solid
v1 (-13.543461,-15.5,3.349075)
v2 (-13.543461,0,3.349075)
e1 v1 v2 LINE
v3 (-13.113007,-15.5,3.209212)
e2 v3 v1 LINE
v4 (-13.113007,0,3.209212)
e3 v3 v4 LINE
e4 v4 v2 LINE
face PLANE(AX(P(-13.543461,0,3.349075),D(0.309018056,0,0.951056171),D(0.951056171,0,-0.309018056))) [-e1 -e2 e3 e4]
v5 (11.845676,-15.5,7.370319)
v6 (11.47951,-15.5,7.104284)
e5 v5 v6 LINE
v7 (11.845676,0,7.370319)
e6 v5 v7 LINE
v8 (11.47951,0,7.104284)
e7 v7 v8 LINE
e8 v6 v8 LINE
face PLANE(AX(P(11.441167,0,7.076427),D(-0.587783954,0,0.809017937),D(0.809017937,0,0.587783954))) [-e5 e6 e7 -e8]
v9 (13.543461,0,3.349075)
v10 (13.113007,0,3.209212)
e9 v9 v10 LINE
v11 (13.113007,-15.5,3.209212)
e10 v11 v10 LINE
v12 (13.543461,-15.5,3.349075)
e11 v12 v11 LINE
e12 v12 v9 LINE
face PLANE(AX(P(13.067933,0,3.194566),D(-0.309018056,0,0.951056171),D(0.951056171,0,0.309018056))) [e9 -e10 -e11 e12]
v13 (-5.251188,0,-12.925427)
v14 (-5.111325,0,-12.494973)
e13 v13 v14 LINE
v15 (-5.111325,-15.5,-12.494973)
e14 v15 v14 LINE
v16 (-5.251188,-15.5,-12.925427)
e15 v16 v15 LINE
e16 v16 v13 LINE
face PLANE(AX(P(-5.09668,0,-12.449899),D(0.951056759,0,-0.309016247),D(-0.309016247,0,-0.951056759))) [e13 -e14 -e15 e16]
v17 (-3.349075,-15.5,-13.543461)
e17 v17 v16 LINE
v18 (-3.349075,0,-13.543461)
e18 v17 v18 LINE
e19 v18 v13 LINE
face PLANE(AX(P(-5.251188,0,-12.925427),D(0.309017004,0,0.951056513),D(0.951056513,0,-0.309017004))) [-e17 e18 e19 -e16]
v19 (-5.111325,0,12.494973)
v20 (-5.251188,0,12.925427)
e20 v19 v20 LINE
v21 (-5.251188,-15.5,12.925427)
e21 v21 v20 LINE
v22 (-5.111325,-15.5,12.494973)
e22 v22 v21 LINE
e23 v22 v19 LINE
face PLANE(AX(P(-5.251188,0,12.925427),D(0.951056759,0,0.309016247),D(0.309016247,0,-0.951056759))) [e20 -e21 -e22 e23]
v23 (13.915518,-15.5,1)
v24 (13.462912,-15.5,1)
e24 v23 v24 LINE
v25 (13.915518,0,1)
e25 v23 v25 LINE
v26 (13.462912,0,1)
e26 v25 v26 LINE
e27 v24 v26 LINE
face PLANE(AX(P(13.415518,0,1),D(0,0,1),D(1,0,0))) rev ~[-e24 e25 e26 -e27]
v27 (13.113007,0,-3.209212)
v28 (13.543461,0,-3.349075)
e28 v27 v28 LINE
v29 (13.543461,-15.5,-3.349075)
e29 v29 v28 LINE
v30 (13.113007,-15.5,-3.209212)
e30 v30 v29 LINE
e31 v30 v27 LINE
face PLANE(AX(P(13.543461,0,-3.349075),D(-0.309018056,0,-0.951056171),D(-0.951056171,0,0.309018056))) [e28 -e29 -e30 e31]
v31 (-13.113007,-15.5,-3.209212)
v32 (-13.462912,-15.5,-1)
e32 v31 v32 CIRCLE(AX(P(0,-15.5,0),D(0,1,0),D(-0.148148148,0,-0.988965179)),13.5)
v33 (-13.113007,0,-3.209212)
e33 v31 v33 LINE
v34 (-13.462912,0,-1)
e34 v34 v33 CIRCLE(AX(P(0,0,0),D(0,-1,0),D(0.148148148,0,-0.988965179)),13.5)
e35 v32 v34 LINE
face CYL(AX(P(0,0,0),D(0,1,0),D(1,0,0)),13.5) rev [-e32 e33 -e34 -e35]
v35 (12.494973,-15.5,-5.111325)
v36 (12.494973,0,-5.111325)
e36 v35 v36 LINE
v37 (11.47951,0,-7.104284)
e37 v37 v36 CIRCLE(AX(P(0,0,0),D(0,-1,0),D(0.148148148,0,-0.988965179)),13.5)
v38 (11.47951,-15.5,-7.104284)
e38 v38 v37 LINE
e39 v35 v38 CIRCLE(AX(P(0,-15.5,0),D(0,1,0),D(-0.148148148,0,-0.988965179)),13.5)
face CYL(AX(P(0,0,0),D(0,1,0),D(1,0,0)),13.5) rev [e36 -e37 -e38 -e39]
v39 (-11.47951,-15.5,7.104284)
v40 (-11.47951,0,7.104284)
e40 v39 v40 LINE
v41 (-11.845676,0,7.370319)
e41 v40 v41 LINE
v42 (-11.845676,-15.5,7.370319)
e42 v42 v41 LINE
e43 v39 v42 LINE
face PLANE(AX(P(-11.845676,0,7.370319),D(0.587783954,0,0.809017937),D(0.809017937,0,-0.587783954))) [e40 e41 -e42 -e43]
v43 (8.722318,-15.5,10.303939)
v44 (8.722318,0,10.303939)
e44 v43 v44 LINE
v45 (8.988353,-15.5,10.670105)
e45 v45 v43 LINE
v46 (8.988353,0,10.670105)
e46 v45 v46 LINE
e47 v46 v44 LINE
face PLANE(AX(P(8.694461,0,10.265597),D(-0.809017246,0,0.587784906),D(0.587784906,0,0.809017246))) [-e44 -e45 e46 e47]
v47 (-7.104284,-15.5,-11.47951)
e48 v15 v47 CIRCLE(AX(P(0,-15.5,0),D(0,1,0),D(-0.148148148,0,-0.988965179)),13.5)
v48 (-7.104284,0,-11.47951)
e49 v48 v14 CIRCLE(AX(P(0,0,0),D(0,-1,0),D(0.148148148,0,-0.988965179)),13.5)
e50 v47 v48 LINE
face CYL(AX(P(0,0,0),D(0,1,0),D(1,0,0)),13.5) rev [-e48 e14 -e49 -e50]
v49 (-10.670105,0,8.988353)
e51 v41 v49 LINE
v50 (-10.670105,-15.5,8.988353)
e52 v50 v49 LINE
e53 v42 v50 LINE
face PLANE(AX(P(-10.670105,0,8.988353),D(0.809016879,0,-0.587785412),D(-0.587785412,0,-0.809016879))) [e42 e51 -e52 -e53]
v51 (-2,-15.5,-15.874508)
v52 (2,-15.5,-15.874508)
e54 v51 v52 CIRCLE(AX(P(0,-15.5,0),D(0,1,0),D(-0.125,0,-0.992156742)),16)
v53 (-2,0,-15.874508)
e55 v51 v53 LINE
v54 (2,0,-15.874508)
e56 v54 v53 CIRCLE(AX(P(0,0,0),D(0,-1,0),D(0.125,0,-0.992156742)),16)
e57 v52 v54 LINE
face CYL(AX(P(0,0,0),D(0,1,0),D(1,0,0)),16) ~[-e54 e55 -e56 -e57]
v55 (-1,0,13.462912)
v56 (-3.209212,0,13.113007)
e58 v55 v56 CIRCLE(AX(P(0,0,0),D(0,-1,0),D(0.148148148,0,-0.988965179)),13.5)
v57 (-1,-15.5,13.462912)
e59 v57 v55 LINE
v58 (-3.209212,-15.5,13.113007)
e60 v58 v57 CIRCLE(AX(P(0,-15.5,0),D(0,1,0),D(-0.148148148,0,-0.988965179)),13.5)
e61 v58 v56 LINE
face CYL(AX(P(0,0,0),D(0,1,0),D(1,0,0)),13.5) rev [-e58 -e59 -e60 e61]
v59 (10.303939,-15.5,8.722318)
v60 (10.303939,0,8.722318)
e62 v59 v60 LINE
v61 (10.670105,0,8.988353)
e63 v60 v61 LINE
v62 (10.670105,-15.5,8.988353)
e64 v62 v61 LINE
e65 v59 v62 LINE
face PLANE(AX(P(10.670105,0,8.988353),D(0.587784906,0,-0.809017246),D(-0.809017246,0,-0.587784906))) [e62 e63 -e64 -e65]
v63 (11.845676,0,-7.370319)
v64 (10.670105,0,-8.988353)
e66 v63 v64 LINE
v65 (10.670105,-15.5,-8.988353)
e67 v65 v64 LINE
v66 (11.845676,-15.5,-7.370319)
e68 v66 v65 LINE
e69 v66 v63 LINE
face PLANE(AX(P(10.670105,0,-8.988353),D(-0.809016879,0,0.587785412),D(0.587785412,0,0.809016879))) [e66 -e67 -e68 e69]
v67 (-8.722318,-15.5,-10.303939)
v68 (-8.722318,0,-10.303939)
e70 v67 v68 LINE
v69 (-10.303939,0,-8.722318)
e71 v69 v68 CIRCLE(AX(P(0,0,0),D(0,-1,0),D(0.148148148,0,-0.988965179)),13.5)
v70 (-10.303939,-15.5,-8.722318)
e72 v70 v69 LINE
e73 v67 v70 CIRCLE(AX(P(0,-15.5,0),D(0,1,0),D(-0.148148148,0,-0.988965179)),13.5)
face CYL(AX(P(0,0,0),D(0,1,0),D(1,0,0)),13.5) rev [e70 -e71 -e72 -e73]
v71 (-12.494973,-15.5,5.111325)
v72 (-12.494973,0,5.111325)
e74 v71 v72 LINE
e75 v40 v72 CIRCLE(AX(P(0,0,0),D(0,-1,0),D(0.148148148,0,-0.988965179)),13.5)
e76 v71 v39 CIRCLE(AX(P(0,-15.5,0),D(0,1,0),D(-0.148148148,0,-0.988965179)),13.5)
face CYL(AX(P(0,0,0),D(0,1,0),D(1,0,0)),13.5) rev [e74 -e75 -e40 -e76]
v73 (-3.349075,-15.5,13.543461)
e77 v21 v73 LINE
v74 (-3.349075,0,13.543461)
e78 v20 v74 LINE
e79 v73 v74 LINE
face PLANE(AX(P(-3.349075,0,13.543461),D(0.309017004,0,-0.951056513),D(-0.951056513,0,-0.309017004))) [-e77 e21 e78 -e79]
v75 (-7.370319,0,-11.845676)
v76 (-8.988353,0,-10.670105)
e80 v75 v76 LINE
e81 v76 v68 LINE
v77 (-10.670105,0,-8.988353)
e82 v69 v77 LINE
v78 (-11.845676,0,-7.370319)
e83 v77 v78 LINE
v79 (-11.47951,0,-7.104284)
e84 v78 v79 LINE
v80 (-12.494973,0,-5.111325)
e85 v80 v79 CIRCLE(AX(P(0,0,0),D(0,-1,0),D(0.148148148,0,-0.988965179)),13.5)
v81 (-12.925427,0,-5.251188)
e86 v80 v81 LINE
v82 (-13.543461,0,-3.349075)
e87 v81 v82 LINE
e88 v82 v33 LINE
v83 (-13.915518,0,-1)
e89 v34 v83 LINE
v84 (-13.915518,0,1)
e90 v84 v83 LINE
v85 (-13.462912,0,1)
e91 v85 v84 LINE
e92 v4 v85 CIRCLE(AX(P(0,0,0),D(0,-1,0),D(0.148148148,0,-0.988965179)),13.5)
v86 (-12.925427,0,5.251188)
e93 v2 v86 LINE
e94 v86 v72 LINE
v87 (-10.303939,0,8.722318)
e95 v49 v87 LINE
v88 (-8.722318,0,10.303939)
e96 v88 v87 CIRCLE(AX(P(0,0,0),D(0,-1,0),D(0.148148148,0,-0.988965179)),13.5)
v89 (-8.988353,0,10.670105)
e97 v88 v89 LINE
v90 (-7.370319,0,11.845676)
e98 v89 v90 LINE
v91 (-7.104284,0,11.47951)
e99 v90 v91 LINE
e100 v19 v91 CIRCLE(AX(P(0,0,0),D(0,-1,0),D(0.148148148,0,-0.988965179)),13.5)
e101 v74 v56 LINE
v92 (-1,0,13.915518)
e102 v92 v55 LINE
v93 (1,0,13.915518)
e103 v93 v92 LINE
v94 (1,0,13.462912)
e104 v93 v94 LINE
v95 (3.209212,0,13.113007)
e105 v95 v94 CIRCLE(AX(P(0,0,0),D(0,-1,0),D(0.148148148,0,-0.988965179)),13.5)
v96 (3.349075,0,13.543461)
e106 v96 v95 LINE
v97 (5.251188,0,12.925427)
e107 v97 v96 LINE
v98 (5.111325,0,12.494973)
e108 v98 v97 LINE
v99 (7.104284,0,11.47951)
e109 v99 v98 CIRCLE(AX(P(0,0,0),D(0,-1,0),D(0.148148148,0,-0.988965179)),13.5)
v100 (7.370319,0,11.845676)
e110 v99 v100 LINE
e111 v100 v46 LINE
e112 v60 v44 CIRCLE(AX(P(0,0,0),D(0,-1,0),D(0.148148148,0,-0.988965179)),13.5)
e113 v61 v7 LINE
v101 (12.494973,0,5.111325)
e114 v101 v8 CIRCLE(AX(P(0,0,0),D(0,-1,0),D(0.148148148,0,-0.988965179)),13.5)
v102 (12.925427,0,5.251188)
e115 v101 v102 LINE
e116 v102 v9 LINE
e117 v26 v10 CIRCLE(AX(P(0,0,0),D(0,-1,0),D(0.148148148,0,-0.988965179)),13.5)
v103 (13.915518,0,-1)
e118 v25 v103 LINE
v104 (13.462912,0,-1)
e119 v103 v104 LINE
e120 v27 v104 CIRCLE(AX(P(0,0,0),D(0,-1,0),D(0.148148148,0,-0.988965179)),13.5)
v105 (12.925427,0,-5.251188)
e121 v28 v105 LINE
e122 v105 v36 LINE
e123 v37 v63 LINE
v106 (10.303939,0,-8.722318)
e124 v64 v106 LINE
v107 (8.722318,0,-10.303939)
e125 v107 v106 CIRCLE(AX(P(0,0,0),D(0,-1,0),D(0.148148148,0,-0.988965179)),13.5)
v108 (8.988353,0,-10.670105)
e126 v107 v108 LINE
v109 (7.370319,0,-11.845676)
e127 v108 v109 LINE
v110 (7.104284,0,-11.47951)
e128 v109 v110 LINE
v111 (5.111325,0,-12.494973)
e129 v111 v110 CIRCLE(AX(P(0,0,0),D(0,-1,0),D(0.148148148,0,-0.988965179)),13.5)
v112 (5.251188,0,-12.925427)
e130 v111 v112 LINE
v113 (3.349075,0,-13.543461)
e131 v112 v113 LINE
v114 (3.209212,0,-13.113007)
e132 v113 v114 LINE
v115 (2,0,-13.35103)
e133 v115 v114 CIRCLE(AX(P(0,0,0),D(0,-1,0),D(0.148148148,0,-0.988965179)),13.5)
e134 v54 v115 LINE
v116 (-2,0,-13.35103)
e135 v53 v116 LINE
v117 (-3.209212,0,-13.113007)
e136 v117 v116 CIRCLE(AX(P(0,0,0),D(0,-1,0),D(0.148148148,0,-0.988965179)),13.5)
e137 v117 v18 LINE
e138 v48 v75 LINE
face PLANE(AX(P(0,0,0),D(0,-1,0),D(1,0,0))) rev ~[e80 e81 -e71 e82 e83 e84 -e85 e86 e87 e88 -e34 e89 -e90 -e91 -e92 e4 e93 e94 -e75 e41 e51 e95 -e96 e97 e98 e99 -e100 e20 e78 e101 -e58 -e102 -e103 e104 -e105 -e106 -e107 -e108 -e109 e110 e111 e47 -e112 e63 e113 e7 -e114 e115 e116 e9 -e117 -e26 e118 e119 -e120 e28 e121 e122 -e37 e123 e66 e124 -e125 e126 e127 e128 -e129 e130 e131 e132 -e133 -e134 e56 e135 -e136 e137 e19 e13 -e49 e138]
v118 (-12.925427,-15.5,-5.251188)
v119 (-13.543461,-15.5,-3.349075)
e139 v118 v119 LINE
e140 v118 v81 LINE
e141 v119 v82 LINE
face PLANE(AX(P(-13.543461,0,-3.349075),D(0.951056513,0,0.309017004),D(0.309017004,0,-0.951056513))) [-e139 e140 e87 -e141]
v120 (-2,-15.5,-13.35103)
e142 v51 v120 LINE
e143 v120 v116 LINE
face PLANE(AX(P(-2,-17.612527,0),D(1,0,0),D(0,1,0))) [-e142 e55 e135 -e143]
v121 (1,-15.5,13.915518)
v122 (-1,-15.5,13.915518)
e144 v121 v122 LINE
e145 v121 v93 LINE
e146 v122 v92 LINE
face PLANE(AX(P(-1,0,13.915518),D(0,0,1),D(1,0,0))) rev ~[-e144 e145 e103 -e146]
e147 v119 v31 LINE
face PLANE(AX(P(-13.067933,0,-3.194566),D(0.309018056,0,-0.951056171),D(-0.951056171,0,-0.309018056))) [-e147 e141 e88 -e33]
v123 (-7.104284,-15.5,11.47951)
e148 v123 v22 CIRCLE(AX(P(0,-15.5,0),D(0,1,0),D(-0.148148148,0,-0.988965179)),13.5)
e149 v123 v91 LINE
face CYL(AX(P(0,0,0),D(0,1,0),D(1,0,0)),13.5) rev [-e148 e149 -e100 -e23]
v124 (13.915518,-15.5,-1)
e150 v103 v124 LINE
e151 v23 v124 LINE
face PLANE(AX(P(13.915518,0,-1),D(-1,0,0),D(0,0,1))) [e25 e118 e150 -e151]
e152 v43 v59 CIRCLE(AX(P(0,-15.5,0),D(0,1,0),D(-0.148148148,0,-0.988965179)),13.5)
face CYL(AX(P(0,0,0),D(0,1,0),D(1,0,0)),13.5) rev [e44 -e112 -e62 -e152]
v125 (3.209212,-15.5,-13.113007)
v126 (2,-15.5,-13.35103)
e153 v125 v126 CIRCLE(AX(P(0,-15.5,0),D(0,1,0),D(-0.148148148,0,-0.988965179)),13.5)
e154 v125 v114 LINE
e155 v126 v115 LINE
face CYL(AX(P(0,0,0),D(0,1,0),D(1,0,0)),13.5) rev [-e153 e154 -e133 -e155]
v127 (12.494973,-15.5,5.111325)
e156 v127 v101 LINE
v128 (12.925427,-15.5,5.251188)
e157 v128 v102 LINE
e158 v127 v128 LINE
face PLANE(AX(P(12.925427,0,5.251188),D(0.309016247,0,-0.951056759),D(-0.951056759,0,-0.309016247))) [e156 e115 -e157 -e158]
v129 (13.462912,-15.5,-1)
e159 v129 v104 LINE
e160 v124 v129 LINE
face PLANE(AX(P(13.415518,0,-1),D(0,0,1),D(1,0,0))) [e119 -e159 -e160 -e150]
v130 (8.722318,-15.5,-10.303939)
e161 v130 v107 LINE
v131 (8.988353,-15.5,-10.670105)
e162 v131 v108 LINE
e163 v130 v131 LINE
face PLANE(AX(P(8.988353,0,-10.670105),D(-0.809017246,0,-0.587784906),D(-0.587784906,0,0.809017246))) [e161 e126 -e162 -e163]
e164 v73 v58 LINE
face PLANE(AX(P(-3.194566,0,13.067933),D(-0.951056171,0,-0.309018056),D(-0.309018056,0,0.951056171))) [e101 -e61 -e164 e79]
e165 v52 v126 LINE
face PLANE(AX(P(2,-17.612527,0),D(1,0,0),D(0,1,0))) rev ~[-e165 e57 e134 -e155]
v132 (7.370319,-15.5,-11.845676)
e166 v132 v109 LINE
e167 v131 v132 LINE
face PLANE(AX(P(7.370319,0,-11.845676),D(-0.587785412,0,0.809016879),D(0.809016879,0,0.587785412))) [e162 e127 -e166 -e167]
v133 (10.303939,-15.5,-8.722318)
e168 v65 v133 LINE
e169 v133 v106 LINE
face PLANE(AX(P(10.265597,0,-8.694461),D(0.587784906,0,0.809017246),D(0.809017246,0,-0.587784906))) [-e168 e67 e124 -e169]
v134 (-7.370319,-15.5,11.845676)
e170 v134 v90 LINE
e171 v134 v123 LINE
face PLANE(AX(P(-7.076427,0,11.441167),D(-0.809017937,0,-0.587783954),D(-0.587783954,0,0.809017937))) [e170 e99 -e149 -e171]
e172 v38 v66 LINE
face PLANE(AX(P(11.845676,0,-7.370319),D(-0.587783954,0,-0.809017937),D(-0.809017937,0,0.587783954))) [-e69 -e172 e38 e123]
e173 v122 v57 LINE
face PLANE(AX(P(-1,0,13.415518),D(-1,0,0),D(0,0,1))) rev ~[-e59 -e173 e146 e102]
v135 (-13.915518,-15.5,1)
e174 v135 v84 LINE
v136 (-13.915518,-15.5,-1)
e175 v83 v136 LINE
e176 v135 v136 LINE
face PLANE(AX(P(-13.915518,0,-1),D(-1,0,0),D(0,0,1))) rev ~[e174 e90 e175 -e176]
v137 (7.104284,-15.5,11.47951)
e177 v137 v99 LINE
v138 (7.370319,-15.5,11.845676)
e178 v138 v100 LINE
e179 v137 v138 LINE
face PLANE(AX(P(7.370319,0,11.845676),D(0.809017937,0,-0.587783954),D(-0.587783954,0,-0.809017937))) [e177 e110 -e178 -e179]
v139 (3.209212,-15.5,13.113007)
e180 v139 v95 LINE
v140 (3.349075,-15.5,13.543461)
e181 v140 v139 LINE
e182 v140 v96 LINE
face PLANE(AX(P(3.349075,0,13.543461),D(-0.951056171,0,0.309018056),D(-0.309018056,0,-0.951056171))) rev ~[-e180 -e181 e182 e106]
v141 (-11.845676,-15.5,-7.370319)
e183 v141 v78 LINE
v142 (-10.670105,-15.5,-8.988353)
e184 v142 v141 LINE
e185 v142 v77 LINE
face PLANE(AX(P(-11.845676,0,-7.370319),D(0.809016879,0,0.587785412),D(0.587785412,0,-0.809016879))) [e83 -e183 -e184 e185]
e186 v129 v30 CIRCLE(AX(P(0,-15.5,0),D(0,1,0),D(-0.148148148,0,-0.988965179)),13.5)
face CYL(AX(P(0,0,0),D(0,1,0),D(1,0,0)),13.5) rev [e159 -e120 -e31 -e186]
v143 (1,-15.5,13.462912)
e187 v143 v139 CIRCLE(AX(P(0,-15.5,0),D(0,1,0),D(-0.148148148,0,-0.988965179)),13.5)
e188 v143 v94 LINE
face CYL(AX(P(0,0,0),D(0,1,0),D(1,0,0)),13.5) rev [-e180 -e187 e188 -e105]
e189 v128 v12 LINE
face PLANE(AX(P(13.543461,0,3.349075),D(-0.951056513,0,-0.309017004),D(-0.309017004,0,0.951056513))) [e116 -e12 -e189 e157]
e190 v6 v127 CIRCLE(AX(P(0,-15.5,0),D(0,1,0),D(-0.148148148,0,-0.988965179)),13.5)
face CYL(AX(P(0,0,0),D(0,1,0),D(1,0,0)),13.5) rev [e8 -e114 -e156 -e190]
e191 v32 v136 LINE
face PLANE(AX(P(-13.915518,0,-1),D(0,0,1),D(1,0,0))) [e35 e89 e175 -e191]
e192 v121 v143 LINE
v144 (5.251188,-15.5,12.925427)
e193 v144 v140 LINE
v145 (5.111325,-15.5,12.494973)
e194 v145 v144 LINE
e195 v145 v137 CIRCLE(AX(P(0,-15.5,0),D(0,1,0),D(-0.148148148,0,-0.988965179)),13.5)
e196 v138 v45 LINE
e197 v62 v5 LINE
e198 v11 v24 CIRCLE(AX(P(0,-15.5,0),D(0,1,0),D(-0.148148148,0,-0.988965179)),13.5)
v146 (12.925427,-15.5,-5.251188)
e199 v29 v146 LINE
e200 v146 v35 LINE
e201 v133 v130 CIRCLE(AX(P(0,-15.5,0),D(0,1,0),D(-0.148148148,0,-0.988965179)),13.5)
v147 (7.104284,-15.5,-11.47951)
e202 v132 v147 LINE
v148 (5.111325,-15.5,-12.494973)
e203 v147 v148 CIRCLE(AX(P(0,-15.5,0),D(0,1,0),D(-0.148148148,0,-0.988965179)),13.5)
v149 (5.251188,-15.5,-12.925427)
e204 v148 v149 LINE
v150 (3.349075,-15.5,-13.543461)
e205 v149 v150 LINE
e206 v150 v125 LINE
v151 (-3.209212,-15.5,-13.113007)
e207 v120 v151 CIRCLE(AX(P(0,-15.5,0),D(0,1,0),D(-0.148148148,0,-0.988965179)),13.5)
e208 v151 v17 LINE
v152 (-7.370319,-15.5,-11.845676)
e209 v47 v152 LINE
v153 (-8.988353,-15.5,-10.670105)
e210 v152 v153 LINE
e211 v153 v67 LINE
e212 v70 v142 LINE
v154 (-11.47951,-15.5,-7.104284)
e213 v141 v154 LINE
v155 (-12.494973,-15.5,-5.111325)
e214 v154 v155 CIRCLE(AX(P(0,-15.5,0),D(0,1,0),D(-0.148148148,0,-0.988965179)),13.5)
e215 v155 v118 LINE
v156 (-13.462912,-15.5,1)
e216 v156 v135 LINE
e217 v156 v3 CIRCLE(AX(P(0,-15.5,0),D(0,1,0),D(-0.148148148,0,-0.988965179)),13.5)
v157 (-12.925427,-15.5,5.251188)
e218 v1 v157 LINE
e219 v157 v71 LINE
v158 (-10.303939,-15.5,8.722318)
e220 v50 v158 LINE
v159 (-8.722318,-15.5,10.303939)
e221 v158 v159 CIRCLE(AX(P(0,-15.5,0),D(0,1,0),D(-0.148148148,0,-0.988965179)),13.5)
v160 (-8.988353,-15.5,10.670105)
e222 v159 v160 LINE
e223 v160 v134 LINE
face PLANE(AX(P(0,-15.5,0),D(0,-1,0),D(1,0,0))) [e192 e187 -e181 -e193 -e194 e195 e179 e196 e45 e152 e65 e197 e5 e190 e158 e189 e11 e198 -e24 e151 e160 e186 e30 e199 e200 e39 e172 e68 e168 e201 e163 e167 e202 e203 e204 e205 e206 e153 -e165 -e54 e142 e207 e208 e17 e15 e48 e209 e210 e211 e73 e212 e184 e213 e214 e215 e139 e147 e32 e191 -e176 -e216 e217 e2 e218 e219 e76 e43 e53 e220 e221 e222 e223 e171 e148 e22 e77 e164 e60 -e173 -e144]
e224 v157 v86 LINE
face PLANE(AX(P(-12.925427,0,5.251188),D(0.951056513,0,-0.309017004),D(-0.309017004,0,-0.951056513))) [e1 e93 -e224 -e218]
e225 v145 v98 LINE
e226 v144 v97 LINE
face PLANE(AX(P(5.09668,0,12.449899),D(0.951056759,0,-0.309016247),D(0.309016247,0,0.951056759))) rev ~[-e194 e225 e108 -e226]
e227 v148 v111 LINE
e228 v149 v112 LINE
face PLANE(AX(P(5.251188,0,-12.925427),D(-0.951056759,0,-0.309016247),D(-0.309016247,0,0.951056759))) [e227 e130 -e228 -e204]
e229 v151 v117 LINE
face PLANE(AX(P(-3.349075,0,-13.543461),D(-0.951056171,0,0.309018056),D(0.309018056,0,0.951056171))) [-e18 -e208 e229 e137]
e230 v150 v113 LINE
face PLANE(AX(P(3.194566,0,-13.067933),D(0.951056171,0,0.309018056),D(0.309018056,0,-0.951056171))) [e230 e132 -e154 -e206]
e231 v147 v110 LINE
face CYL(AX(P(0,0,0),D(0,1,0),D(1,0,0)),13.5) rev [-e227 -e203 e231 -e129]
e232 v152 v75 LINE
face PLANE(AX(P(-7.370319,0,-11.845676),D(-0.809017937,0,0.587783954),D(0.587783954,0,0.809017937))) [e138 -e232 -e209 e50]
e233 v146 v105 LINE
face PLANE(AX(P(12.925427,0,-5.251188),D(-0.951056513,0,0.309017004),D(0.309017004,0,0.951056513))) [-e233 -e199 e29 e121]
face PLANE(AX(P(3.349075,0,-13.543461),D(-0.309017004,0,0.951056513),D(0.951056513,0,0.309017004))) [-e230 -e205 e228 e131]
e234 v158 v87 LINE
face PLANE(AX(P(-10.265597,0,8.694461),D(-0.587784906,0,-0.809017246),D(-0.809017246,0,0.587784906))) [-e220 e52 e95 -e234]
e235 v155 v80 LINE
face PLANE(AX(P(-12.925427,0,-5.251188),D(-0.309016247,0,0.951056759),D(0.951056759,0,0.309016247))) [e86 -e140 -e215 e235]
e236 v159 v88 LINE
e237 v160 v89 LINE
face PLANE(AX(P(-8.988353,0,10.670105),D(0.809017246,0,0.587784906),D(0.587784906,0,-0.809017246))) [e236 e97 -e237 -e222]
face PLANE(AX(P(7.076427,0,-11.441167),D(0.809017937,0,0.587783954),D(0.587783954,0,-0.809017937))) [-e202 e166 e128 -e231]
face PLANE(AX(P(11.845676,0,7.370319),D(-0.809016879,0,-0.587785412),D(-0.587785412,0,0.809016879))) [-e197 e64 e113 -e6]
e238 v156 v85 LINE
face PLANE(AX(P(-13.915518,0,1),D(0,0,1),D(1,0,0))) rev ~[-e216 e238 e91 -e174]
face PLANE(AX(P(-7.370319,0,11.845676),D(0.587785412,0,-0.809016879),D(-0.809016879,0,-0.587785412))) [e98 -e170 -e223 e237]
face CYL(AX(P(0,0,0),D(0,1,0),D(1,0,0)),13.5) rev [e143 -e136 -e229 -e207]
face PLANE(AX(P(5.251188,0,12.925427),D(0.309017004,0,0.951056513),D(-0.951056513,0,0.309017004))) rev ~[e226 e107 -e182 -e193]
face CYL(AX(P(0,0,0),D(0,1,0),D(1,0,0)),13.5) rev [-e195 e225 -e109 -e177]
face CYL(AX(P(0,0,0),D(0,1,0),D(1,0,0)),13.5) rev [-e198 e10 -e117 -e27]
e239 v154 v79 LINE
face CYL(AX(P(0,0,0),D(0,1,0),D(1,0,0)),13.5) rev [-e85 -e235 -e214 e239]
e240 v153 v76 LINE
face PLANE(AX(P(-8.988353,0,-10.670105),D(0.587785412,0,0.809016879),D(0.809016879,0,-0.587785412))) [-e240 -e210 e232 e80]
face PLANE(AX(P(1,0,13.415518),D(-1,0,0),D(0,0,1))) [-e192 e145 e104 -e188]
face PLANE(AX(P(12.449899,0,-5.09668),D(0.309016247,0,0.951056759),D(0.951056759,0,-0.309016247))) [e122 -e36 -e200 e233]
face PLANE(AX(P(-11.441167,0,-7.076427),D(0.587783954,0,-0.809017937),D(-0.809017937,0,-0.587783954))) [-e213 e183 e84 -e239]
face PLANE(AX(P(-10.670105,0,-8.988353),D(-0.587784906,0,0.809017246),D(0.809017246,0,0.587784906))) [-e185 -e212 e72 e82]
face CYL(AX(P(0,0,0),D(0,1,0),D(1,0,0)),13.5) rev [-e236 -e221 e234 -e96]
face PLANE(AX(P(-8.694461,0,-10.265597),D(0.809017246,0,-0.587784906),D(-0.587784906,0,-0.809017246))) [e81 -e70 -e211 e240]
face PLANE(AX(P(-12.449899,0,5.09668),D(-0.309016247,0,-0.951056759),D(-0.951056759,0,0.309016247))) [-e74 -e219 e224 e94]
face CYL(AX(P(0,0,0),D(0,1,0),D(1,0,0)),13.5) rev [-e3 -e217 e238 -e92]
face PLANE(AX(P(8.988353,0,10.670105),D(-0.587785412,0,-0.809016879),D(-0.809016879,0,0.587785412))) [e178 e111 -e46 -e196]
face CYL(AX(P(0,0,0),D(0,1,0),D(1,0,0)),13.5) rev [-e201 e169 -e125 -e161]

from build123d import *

# Parameters (mm, degrees)
F0_R     = 16
F0_R_2   = 13.5
F1_DEPTH = 15.5
F2_W     = 4
F2_H     = 19.090906
F3_DEPTH = 25
F4_W     = 2
F4_H     = 0.5
F4_W_2   = 0.5
F4_H_2   = 2
F5_DEPTH = 25


with BuildPart() as f1:
    # F0 (on Front) → F1 (new body)
    with BuildSketch(Plane.XZ):
        Circle(F0_R)
        Circle(F0_R_2, mode=Mode.SUBTRACT)
    extrude(amount=F1_DEPTH)

    # F2 (on Top) → F3 (cut)
    with BuildSketch(Plane.XY):
        with Locations((0, -8.067074)):
            Rectangle(F2_W, F2_H)
    extrude(amount=-F3_DEPTH, mode=Mode.SUBTRACT)

    # F4 (on Front) → F5 (cut, symmetric)
    with BuildSketch(Plane.XZ):
        with Locations((0, 13.665518)):
            Rectangle(F4_W, F4_H)
        Polygon((-5.251188, 12.925427), (-5.09668, 12.449899), (-3.194566, 13.067933), (-3.349075, 13.543461), align=None)
        Polygon((-8.988353, 10.670105), (-8.694461, 10.265597), (-7.076427, 11.441167), (-7.370319, 11.845676), align=None)
        Polygon((-11.845676, 7.370319), (-11.441167, 7.076427), (-10.265597, 8.694461), (-10.670105, 8.988353), align=None)
        Polygon((-13.543461, 3.349075), (-13.067933, 3.194566), (-12.449899, 5.09668), (-12.925427, 5.251188), align=None)
        with Locations((-13.665518, 0)):
            Rectangle(F4_W_2, F4_H_2)
        Polygon((-12.925427, -5.251188), (-12.449899, -5.09668), (-13.067933, -3.194566), (-13.543461, -3.349075), align=None)
        Polygon((-10.670105, -8.988353), (-10.265597, -8.694461), (-11.441167, -7.076427), (-11.845676, -7.370319), align=None)
        Polygon((-7.370319, -11.845676), (-7.076427, -11.441167), (-8.694461, -10.265597), (-8.988353, -10.670105), align=None)
        Polygon((-3.349075, -13.543461), (-3.194566, -13.067933), (-5.09668, -12.449899), (-5.251188, -12.925427), align=None)
        with Locations((0, -13.665518)):
            Rectangle(F4_W, F4_H)
        Polygon((5.251188, -12.925427), (5.09668, -12.449899), (3.194566, -13.067933), (3.349075, -13.543461), align=None)
        Polygon((8.988353, -10.670105), (8.694461, -10.265597), (7.076427, -11.441167), (7.370319, -11.845676), align=None)
        Polygon((11.845676, -7.370319), (11.441167, -7.076427), (10.265597, -8.694461), (10.670105, -8.988353), align=None)
        Polygon((13.543461, -3.349075), (13.067933, -3.194566), (12.449899, -5.09668), (12.925427, -5.251188), align=None)
        with Locations((13.665518, 0)):
            Rectangle(F4_W_2, F4_H_2)
        Polygon((12.925427, 5.251188), (12.449899, 5.09668), (13.067933, 3.194566), (13.543461, 3.349075), align=None)
        Polygon((10.670105, 8.988353), (10.265597, 8.694461), (11.441167, 7.076427), (11.845676, 7.370319), align=None)
        Polygon((7.370319, 11.845676), (7.076427, 11.441167), (8.694461, 10.265597), (8.988353, 10.670105), align=None)
        Polygon((3.349075, 13.543461), (3.194566, 13.067933), (5.09668, 12.449899), (5.251188, 12.925427), align=None)
    extrude(amount=F5_DEPTH, both=True, mode=Mode.SUBTRACT)


solid = f1.part
